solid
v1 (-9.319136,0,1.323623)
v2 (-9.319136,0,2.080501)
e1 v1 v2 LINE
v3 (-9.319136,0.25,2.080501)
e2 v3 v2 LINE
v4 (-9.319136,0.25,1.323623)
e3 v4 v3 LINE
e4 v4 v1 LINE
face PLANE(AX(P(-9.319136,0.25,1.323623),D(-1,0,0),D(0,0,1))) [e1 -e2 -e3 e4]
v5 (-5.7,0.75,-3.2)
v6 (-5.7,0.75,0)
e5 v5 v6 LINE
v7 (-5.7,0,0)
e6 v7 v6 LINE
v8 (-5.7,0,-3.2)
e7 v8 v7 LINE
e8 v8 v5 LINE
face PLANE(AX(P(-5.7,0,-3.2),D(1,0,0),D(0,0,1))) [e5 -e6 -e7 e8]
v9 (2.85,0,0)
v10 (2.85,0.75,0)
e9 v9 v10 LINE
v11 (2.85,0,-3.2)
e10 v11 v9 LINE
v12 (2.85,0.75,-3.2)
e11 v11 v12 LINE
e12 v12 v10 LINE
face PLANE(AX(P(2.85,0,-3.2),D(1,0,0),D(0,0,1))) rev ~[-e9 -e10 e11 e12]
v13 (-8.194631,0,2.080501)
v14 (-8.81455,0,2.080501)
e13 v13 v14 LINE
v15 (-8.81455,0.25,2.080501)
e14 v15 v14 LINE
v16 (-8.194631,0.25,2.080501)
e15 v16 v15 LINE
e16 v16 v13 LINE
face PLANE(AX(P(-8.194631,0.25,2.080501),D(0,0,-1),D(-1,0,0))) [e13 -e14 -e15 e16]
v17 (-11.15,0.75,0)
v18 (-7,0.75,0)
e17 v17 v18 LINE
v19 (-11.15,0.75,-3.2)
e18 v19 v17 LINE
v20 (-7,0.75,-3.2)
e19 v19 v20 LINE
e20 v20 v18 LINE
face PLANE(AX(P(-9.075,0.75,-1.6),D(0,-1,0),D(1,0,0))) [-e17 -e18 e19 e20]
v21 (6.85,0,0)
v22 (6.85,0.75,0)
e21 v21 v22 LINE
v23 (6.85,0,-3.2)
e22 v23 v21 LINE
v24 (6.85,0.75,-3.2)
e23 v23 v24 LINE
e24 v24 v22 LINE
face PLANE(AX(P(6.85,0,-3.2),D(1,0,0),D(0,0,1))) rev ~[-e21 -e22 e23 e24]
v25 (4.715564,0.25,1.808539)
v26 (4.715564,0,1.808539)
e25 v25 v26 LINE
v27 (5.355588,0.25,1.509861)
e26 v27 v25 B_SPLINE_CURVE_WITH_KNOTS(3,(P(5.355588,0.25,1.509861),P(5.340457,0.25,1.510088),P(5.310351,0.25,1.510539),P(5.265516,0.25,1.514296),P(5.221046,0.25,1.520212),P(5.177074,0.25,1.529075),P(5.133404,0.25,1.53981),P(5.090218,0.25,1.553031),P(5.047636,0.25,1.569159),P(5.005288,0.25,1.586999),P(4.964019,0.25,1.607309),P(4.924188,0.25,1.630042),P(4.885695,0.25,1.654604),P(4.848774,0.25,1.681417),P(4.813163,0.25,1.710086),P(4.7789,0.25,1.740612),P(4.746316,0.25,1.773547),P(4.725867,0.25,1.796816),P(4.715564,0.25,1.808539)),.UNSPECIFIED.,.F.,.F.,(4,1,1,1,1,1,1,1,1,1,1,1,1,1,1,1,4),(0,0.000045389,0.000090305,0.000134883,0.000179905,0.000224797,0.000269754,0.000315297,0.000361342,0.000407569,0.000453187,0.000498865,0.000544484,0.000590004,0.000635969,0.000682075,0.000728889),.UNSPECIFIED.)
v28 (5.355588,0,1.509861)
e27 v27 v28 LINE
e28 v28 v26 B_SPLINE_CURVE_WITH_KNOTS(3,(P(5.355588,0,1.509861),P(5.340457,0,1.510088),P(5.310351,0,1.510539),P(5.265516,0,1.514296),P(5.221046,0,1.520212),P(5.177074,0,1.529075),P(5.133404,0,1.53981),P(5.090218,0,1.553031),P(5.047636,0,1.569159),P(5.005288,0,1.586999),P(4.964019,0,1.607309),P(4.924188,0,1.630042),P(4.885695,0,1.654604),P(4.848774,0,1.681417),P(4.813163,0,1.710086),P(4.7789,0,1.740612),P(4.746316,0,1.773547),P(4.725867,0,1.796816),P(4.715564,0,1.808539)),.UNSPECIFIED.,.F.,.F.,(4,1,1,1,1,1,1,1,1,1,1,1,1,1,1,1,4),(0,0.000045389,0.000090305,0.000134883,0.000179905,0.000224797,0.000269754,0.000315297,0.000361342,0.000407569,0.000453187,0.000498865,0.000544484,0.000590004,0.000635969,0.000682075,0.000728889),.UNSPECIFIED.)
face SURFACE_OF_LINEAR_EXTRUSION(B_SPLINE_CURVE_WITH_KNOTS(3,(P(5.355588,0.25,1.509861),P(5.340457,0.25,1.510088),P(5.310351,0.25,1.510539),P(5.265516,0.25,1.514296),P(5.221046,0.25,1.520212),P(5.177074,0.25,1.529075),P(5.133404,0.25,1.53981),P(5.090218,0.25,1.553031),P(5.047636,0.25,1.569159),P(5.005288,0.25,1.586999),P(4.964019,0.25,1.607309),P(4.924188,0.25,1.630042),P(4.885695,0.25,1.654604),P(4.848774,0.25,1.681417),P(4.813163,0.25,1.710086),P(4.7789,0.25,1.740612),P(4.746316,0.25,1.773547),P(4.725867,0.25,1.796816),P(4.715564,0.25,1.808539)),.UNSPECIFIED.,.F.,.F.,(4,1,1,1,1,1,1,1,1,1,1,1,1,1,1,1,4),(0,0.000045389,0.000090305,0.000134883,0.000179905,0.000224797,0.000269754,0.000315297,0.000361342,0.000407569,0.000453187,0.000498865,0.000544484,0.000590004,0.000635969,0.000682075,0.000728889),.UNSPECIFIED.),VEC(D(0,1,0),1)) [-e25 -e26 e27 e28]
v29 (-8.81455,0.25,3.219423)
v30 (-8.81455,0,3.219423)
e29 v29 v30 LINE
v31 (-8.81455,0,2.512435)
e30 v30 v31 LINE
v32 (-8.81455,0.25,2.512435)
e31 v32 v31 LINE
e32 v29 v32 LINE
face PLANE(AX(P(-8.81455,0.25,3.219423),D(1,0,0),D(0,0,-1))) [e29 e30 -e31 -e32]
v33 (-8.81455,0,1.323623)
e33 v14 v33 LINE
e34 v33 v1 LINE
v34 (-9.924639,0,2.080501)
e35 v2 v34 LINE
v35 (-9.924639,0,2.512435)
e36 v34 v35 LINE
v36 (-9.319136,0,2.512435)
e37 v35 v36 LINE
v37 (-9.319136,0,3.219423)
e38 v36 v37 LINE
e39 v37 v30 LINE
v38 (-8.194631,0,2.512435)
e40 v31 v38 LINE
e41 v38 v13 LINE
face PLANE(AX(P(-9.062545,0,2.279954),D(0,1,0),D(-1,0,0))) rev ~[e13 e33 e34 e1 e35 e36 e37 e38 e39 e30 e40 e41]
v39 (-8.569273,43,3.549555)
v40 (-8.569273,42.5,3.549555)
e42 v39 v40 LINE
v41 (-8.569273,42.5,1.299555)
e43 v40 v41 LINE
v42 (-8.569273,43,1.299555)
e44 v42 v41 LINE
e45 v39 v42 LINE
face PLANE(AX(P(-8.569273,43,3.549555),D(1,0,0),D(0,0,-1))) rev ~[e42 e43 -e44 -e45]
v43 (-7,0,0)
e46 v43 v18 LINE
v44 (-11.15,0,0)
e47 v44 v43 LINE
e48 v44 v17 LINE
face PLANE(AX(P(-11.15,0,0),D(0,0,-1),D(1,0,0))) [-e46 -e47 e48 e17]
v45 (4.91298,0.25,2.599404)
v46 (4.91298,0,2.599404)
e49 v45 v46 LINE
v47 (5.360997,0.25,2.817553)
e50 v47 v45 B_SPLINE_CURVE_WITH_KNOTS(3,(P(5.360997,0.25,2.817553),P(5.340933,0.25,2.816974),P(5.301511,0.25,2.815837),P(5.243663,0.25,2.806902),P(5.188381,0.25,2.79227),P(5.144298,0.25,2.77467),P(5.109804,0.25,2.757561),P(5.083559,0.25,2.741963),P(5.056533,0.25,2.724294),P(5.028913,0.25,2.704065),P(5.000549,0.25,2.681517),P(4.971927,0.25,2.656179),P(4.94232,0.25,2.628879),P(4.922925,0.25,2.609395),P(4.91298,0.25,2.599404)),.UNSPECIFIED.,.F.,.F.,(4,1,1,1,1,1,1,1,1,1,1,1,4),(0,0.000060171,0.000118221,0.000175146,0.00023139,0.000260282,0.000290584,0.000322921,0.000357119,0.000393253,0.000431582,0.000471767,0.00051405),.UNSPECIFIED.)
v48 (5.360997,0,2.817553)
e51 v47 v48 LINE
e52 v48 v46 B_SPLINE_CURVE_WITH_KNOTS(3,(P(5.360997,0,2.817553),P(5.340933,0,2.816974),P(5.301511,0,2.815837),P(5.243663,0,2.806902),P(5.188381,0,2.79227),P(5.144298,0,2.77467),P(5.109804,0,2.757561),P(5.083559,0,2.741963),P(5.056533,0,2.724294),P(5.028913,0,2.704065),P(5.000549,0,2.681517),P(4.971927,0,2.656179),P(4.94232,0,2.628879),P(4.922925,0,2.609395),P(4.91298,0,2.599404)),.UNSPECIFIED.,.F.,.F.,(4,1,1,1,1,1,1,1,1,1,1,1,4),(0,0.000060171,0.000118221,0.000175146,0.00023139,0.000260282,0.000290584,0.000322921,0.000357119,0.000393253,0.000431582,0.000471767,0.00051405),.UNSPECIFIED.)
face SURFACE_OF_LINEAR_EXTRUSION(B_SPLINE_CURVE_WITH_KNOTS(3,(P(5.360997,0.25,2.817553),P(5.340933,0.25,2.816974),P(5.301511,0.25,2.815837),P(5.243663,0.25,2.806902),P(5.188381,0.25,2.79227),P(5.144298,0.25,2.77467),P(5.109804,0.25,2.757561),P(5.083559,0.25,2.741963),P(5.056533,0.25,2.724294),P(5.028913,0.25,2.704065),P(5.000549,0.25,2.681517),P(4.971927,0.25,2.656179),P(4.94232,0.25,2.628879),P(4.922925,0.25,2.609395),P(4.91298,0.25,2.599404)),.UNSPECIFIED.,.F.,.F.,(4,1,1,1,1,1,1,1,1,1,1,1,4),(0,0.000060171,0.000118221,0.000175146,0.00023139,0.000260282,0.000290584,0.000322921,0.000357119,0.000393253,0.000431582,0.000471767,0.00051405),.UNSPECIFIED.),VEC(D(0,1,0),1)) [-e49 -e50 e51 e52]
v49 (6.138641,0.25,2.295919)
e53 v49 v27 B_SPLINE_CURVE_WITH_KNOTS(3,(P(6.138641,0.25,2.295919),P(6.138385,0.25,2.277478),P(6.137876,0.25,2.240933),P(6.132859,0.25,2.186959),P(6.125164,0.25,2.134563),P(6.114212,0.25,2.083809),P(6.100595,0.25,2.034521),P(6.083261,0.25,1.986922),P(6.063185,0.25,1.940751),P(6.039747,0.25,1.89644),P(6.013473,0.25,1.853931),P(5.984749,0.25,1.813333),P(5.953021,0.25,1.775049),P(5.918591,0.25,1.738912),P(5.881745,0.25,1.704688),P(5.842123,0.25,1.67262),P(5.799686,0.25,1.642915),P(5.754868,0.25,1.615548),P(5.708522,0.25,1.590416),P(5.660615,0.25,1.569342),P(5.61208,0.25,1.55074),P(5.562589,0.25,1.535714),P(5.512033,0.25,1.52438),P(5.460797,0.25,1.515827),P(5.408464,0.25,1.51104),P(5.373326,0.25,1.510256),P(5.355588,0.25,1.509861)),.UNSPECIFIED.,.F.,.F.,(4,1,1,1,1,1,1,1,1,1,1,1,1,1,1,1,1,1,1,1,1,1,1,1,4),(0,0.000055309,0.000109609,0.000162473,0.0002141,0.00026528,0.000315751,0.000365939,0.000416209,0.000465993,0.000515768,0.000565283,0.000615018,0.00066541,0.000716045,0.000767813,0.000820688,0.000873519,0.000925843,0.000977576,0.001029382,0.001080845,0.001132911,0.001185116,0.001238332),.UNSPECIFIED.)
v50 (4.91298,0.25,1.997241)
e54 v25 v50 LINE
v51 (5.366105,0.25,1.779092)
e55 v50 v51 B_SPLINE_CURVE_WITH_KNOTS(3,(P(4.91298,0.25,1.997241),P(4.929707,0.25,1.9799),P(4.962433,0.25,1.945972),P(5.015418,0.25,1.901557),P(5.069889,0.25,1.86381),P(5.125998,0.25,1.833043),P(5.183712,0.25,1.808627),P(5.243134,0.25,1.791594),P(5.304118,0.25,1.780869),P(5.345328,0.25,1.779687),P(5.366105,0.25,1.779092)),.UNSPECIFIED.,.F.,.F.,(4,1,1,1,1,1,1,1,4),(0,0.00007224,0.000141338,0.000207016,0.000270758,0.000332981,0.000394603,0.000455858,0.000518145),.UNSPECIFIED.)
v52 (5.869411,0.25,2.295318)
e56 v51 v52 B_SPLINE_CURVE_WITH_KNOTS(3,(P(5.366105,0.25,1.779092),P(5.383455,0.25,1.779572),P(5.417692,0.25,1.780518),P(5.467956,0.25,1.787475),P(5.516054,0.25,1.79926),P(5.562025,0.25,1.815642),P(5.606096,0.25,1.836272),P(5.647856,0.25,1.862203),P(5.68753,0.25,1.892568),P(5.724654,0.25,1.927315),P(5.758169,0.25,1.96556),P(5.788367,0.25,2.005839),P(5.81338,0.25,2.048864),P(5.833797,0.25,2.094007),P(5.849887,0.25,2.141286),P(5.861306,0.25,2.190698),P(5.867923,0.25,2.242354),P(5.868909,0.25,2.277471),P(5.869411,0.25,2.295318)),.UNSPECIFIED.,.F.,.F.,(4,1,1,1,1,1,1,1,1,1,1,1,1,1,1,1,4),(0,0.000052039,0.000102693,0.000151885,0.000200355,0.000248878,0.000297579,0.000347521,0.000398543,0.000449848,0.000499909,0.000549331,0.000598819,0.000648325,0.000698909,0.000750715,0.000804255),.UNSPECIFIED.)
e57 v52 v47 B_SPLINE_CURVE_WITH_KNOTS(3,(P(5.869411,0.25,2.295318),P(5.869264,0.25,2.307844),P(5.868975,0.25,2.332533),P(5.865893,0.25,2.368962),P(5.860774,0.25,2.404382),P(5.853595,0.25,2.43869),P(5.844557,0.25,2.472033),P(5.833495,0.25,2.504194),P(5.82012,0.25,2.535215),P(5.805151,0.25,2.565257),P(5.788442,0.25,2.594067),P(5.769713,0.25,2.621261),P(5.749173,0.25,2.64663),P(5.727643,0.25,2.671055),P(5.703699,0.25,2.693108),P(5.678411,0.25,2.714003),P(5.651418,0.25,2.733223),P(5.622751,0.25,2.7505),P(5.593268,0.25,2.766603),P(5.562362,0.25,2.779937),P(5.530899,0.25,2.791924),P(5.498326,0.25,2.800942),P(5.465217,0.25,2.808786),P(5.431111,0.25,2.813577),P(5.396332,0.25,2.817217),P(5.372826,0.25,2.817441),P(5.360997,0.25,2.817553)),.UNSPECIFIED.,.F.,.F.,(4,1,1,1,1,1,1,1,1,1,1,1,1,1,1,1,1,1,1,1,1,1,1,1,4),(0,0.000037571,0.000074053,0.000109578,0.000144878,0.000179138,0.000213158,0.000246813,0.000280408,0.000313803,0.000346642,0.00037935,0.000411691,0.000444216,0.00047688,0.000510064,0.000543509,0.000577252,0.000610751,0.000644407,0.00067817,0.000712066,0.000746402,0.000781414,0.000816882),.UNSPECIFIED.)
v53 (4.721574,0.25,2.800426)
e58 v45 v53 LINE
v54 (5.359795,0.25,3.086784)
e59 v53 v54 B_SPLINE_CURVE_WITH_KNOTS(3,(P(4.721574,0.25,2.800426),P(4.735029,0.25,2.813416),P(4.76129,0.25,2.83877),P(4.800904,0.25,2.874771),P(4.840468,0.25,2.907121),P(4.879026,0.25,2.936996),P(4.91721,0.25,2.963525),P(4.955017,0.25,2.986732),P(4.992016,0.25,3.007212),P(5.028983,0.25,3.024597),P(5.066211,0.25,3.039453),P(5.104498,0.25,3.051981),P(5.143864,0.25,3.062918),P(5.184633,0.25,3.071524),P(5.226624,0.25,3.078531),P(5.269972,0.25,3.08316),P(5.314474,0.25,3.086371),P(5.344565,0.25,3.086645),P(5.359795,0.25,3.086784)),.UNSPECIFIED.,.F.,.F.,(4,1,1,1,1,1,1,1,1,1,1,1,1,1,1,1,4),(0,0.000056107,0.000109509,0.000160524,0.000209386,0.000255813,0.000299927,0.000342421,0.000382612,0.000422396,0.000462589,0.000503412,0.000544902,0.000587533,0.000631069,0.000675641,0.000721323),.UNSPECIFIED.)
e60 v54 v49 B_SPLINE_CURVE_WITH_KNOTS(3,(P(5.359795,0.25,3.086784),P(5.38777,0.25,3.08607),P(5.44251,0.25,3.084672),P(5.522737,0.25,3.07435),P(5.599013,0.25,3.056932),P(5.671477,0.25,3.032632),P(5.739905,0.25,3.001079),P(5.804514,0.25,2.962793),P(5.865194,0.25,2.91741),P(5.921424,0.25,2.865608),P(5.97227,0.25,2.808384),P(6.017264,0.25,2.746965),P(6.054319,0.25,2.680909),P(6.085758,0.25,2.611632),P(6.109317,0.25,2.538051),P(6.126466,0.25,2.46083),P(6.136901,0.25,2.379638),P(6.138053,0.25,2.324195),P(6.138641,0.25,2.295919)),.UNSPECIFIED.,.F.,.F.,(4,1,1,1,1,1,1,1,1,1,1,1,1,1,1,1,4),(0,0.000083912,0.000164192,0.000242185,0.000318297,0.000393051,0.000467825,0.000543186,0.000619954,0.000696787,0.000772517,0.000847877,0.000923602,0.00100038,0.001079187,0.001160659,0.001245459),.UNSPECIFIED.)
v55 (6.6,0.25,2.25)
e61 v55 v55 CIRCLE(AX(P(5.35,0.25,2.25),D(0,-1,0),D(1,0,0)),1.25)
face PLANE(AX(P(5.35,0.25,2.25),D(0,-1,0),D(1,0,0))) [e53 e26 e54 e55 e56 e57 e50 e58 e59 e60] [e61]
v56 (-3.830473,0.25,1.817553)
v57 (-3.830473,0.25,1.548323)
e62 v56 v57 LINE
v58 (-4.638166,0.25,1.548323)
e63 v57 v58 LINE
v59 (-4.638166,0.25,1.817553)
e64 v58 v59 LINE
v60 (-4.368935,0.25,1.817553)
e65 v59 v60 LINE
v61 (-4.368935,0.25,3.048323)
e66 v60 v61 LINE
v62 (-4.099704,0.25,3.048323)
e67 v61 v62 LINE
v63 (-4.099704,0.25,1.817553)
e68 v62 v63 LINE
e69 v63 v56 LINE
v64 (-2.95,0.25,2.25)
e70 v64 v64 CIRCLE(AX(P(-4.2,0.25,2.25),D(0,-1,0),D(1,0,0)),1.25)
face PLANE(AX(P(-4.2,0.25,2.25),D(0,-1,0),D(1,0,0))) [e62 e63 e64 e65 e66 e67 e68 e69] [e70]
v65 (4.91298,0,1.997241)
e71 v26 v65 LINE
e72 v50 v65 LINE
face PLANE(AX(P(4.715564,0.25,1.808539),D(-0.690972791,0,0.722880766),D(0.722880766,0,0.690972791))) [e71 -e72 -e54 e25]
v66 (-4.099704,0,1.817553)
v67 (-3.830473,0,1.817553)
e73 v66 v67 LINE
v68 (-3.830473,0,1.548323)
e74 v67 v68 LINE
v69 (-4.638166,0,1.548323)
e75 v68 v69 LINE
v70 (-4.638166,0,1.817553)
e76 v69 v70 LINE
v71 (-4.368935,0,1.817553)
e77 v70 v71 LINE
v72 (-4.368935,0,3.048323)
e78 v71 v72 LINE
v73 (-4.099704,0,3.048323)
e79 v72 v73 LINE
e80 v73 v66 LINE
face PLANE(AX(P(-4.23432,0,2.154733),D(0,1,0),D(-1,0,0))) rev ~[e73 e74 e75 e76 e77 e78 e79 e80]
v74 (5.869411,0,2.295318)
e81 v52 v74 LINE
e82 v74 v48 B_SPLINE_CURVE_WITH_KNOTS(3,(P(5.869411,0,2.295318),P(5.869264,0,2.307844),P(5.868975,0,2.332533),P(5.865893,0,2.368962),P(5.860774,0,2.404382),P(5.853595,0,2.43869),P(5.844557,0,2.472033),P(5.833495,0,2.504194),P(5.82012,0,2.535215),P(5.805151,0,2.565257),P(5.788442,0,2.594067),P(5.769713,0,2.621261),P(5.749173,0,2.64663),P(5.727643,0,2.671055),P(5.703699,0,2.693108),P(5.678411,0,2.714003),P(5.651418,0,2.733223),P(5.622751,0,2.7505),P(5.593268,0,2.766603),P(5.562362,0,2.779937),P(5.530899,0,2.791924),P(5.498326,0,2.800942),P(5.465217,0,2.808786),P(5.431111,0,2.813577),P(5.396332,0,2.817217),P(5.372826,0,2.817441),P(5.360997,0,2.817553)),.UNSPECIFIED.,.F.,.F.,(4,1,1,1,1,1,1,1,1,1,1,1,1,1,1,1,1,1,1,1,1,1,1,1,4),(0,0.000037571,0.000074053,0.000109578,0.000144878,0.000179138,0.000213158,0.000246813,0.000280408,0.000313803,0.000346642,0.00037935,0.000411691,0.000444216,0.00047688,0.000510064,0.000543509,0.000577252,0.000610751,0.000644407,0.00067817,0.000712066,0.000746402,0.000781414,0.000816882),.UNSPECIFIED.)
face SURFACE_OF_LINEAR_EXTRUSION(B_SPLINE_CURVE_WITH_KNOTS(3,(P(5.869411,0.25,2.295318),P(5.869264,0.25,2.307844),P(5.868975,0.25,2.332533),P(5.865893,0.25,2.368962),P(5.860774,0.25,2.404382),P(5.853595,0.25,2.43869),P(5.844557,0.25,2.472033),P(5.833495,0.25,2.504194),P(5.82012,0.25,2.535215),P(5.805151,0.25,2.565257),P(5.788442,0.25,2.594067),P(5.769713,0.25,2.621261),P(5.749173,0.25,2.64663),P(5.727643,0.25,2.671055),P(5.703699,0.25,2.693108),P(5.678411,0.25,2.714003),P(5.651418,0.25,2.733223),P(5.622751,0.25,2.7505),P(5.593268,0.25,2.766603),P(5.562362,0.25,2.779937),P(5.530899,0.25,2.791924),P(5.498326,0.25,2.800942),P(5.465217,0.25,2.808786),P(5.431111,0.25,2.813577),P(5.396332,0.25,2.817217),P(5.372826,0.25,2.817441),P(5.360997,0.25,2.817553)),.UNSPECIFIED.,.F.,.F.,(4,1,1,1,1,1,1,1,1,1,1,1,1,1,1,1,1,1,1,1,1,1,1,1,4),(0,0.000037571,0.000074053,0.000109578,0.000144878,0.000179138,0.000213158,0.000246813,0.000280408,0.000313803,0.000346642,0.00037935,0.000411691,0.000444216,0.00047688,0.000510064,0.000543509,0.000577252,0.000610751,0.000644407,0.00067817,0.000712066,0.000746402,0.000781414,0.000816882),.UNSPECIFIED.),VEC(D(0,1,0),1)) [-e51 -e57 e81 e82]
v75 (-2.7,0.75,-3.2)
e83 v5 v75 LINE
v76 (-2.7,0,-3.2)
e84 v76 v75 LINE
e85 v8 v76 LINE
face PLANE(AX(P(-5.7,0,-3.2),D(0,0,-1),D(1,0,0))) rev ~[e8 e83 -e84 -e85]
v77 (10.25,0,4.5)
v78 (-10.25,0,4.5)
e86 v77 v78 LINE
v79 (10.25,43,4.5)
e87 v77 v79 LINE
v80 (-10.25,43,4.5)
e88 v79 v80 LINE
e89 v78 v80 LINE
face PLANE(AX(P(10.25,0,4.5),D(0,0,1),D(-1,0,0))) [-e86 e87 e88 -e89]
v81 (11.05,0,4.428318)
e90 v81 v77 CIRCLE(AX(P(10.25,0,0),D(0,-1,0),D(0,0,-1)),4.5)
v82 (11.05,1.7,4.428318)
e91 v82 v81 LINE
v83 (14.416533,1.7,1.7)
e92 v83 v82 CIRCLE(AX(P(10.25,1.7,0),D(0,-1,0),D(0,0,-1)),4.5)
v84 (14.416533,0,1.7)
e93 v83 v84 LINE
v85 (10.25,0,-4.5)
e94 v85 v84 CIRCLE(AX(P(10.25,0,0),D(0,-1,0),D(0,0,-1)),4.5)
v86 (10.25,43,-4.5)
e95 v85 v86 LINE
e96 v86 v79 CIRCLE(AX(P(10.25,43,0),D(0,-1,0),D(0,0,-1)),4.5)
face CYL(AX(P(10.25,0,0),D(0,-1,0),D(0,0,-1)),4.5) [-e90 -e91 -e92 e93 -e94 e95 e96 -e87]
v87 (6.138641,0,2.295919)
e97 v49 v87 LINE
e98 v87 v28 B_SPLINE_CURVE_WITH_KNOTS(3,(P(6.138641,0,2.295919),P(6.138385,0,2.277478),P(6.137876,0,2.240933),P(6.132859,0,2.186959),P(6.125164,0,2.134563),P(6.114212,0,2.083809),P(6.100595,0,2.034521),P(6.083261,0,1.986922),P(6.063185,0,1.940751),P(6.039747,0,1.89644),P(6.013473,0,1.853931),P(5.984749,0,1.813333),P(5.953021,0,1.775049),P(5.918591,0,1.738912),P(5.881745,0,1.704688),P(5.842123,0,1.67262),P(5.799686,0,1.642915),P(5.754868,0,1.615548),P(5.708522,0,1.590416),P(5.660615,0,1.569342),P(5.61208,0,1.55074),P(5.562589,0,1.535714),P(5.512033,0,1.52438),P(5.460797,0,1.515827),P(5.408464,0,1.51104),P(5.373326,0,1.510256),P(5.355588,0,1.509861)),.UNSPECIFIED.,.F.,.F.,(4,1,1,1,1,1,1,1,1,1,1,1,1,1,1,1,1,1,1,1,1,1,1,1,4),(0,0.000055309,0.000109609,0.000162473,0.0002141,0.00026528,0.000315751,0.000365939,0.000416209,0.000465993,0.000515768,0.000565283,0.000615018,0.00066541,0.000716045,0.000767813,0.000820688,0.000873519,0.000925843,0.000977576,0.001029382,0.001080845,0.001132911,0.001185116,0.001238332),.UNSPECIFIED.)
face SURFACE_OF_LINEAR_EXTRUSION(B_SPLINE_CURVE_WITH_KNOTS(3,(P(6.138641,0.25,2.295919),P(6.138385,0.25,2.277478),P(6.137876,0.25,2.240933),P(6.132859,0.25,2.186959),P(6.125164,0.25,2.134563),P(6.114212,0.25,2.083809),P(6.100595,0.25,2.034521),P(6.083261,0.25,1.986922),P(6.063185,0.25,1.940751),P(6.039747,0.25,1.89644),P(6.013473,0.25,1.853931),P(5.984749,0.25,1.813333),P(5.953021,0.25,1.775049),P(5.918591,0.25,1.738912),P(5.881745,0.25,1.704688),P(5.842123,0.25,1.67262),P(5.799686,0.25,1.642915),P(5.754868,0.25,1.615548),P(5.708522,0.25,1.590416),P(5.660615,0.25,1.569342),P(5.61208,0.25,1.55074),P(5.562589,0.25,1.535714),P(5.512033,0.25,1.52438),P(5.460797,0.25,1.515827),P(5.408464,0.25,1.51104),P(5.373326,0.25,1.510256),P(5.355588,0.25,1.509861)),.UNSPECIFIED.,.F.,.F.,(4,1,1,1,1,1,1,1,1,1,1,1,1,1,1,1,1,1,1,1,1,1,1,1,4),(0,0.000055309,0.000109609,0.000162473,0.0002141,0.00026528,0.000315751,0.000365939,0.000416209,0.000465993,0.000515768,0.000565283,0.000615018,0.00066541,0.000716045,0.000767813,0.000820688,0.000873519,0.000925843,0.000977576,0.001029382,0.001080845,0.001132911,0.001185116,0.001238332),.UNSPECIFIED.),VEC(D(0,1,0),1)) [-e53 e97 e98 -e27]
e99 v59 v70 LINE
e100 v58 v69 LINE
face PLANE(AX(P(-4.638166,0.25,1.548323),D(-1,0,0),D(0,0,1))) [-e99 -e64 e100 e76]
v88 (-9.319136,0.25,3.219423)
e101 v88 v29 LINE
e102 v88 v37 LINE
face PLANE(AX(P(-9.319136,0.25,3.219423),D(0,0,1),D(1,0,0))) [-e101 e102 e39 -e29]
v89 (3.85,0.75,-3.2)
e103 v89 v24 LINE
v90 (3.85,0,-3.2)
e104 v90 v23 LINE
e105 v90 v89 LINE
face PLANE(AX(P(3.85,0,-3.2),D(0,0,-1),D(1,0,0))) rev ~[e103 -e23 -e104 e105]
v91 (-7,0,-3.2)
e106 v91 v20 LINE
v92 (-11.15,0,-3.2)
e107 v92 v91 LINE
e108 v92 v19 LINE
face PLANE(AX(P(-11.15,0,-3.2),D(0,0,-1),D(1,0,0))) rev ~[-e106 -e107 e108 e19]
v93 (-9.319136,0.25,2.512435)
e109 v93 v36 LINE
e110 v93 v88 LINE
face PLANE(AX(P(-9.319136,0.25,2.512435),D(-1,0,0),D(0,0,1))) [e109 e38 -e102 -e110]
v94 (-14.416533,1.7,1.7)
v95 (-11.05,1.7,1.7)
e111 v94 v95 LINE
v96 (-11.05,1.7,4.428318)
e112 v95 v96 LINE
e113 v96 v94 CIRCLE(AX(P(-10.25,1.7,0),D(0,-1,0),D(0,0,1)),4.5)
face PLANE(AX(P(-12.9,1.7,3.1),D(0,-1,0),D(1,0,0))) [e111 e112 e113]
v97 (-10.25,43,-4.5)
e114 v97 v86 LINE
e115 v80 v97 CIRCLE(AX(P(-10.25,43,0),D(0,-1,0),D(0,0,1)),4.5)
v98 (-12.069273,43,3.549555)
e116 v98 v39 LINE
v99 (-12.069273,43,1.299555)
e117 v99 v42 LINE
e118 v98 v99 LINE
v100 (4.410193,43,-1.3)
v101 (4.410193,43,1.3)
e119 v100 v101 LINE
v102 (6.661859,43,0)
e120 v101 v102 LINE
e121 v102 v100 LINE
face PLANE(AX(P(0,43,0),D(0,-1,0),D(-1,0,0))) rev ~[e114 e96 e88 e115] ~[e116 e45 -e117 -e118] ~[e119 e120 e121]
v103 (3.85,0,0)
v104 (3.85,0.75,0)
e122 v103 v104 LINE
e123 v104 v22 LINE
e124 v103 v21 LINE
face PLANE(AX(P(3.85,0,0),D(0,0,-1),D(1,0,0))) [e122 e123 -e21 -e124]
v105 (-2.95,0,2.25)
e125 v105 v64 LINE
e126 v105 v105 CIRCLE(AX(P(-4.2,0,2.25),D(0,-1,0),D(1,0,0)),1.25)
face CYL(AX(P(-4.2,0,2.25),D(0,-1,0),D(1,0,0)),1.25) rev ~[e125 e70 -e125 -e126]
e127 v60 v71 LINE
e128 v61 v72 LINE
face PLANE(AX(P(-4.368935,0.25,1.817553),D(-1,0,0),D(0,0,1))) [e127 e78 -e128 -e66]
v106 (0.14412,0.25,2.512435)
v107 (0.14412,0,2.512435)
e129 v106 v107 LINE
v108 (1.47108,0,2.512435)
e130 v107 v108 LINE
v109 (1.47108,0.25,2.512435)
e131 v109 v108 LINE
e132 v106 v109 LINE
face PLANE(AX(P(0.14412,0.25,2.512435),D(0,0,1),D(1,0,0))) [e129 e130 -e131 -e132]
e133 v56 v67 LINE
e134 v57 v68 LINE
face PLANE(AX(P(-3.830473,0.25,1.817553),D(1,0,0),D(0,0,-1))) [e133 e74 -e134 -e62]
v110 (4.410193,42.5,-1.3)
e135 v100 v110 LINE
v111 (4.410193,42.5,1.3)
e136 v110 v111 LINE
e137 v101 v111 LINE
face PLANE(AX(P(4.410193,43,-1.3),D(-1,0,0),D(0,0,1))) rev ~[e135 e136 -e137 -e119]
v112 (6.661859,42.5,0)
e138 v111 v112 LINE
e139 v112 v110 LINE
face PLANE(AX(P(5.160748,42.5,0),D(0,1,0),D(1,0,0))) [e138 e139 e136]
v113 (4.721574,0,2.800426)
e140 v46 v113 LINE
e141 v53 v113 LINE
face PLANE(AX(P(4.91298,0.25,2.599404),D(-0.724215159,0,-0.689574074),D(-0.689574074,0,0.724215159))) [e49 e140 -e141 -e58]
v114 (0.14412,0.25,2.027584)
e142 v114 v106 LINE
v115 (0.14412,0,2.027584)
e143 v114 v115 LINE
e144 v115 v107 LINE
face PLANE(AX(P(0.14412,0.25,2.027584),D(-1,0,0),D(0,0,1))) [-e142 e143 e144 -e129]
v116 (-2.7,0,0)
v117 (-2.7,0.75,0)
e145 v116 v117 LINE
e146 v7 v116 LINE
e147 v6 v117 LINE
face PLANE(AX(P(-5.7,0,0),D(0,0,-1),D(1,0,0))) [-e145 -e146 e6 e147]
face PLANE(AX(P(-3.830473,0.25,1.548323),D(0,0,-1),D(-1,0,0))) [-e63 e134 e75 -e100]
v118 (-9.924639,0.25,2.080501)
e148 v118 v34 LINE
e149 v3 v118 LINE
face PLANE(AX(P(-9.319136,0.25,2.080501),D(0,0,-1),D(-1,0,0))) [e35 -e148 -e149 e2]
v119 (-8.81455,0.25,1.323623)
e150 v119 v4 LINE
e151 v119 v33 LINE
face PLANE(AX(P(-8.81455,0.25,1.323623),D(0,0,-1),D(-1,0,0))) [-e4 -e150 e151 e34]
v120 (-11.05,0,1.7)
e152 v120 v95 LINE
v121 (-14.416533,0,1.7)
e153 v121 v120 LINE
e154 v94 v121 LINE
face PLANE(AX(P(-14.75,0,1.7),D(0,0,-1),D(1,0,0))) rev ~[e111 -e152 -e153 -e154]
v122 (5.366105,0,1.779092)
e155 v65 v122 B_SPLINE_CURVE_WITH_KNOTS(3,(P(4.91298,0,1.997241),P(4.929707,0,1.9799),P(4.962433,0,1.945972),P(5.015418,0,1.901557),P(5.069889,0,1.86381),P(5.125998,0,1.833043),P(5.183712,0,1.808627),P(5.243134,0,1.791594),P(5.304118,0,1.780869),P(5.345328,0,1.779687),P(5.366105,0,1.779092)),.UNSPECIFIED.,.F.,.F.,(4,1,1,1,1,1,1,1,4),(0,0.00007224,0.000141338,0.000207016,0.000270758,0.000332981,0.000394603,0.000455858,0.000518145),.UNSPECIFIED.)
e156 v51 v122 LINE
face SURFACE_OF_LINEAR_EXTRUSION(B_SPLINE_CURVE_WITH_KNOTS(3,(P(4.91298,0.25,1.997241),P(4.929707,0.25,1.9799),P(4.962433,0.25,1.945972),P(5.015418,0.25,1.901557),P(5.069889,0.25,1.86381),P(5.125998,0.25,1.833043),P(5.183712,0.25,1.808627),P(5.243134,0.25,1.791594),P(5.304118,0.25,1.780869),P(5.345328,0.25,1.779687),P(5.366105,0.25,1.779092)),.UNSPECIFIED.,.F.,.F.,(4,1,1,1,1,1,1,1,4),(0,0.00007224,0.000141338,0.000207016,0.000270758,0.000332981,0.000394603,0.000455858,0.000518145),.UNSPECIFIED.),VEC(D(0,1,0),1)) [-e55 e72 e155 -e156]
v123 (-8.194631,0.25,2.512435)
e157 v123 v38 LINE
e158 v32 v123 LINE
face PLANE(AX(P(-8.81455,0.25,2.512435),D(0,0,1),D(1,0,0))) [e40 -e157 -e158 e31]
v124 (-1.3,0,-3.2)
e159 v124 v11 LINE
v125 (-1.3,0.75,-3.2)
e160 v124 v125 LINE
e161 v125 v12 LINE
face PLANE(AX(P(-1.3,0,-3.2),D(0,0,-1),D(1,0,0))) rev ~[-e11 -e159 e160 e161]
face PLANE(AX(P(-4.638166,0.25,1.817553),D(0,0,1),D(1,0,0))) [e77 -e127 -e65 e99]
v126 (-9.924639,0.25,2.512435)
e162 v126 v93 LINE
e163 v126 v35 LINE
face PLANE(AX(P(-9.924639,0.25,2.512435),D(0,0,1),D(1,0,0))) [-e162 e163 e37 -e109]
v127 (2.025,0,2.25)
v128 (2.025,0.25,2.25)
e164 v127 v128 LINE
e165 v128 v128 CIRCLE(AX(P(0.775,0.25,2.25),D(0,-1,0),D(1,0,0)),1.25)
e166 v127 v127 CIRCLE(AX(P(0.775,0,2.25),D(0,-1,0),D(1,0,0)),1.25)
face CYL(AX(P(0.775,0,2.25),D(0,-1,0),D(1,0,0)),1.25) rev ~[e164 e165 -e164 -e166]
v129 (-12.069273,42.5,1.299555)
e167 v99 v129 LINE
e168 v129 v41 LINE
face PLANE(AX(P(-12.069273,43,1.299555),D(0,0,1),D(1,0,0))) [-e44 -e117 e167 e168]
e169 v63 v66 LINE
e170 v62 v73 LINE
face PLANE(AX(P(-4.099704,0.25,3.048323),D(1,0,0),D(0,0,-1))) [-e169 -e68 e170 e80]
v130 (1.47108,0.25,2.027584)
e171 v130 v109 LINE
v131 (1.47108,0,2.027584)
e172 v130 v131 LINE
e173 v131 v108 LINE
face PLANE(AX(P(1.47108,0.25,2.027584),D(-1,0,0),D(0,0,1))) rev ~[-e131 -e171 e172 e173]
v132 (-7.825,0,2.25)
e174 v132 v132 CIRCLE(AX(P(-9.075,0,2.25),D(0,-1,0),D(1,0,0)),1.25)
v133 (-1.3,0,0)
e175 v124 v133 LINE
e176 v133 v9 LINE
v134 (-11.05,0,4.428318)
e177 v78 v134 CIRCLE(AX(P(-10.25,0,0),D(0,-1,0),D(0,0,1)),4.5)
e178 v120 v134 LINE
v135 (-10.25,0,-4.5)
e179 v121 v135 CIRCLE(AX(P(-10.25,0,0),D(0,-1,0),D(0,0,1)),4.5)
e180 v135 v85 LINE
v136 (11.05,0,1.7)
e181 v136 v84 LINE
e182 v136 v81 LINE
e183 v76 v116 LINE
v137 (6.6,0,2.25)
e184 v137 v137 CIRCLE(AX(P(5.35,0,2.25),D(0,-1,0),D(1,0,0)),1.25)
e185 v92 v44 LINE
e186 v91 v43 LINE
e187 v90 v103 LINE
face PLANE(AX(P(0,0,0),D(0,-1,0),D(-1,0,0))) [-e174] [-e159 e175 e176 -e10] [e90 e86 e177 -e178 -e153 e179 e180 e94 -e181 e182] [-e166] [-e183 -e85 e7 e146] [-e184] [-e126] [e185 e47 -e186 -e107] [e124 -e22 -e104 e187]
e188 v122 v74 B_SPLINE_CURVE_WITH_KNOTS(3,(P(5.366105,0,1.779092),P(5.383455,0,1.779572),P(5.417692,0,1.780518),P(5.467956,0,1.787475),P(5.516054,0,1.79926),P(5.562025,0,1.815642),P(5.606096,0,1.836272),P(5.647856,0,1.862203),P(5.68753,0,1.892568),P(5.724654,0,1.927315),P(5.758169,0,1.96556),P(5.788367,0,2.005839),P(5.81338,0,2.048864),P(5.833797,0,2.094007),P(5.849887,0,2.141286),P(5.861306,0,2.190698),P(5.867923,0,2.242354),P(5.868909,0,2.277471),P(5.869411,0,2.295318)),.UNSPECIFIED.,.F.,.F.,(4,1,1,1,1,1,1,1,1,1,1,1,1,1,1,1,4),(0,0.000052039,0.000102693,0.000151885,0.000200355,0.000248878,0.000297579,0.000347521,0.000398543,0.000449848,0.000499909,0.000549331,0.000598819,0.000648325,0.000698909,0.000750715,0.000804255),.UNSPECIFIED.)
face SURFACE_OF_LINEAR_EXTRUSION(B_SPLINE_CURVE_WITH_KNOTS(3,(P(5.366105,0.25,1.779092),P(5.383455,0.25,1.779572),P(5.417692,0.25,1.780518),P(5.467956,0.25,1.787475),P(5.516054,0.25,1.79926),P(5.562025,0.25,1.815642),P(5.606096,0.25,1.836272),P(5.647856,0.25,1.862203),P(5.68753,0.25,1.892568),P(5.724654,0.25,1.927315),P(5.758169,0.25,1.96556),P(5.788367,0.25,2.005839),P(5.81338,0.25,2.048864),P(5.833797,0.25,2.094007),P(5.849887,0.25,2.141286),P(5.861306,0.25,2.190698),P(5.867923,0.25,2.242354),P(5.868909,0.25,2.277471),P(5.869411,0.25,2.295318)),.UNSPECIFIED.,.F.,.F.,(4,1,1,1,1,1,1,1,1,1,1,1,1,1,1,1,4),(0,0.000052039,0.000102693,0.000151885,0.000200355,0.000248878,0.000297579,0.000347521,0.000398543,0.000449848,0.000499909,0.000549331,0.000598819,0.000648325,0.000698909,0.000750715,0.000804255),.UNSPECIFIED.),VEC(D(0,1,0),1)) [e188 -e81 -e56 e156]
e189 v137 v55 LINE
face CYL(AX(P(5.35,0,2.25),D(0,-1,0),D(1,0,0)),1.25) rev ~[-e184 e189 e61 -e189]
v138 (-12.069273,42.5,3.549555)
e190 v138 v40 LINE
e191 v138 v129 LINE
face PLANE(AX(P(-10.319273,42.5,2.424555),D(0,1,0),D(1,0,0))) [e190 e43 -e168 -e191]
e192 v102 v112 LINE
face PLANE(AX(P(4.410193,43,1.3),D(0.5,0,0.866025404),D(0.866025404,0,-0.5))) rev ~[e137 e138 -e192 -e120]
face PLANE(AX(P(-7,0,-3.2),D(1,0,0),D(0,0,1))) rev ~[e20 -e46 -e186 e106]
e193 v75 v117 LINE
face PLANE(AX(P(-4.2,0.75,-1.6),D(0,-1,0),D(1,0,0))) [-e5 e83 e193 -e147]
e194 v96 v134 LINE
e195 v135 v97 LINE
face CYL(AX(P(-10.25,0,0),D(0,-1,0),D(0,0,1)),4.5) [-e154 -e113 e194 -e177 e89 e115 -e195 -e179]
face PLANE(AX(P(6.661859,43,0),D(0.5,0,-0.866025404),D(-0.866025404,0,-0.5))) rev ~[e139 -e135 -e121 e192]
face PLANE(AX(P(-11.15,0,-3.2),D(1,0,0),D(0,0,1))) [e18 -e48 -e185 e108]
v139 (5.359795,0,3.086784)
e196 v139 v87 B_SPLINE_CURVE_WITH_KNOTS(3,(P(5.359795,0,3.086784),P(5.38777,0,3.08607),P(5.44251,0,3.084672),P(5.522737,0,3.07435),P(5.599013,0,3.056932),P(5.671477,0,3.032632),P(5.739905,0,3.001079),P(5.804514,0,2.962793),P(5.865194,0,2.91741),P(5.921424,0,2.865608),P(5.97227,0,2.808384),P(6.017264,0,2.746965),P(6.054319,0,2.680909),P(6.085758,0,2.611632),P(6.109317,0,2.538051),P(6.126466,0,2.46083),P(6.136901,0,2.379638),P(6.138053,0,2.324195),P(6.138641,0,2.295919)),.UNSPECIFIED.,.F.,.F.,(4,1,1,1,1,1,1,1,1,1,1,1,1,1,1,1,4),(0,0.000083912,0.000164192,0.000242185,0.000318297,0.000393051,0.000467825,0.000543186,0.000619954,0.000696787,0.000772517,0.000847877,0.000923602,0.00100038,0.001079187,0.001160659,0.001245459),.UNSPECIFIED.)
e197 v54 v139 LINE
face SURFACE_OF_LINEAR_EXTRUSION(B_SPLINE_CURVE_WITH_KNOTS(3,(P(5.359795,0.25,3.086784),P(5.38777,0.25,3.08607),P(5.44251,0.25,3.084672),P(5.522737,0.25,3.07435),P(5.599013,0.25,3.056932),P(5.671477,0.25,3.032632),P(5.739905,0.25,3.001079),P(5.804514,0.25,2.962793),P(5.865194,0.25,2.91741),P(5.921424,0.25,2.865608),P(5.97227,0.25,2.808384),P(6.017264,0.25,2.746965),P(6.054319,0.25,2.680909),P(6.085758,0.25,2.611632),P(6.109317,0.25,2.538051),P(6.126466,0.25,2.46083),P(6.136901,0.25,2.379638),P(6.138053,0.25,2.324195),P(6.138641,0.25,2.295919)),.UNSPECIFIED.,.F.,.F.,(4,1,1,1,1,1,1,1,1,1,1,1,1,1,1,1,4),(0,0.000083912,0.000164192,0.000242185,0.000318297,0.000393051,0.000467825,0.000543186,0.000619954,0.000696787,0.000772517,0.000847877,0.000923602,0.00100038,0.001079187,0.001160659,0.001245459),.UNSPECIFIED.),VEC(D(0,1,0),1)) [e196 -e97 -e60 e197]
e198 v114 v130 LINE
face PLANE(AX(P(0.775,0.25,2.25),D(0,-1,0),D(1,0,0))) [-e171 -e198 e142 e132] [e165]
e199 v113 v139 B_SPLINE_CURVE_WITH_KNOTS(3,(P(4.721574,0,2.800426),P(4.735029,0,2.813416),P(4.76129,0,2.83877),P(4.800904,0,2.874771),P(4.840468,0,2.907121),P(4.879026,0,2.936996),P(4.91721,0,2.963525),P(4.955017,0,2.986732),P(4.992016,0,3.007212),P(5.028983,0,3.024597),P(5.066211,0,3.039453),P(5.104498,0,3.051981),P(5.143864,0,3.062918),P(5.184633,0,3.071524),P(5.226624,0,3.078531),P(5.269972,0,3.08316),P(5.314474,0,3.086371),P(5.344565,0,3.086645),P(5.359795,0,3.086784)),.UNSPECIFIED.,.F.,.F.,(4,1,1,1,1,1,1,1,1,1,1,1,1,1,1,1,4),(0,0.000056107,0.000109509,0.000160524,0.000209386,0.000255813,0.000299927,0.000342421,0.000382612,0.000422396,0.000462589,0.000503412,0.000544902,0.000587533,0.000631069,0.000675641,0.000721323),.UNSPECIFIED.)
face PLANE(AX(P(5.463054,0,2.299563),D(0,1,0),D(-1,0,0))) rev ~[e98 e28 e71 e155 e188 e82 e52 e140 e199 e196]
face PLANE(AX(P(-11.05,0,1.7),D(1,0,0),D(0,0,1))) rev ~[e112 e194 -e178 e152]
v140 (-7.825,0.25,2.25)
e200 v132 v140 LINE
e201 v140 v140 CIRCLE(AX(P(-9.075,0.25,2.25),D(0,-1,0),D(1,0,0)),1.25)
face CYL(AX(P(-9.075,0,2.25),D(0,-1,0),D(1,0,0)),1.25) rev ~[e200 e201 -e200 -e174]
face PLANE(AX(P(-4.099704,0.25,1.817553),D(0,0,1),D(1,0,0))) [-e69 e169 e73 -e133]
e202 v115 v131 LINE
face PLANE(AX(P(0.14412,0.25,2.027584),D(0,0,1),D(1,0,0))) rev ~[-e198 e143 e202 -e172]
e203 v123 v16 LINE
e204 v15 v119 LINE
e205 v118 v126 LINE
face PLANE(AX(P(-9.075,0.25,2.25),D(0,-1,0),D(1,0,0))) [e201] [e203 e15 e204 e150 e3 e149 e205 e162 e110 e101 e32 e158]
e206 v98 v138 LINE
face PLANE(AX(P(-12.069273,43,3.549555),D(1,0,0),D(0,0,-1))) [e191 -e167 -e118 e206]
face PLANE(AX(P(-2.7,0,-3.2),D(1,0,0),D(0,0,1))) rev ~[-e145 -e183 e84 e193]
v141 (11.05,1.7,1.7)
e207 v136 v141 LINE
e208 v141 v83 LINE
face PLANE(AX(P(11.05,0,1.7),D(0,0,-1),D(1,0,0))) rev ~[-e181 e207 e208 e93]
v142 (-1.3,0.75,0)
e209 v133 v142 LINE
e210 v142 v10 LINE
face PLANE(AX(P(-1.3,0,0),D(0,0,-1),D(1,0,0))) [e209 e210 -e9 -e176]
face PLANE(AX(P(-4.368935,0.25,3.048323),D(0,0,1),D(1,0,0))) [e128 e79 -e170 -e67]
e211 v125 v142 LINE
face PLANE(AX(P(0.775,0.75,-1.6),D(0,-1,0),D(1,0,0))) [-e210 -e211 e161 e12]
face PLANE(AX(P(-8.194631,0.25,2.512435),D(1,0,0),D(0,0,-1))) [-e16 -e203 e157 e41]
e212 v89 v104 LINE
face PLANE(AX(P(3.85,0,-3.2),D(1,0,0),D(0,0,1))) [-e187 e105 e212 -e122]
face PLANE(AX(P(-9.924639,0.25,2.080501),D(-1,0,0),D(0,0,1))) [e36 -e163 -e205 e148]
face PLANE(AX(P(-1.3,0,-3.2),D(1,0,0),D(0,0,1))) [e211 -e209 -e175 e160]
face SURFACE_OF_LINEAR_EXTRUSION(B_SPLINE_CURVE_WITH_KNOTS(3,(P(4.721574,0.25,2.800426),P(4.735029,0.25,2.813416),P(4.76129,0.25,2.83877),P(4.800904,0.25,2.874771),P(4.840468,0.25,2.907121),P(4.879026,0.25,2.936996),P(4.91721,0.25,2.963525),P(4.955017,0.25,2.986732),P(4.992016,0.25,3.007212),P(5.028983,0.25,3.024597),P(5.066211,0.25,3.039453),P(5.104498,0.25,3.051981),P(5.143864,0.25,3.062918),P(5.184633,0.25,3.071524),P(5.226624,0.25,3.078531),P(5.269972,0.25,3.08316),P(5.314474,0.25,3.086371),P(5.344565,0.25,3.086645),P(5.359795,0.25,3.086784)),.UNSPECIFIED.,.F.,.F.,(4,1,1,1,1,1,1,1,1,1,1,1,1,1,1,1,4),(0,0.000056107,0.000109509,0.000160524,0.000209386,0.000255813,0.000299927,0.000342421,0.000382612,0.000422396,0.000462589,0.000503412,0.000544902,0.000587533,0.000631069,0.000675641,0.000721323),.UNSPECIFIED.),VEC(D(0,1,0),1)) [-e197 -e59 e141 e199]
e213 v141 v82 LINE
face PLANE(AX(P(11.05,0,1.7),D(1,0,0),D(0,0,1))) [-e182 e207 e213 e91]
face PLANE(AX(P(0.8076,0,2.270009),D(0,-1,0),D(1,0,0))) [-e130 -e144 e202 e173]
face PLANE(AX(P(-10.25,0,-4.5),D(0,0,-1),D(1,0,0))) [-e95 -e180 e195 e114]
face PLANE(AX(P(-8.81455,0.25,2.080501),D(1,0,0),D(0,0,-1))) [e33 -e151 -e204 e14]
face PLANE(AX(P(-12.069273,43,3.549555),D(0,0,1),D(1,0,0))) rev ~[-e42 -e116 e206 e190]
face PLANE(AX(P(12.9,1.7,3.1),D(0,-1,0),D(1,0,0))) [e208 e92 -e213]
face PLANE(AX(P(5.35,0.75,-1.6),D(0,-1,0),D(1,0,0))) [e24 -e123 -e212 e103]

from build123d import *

# Parameters (mm, degrees)
BOSS_EXTRUDE1_DEPTH = 43
SKETCH2_W           = 3.5
SKETCH2_H           = 2.25
CUT_EXTRUDE1_DEPTH  = 0.5
SKETCH3_W           = 4.15
SKETCH3_H           = 3.2
SKETCH3_W_2         = 3
CUT_EXTRUDE2_DEPTH  = 0.75
SKETCH5_R           = 1.25
CUT_EXTRUDE3_DEPTH  = 0.25
SKETCH6_W           = 1.326960347
SKETCH6_H           = 0.484850896
BOSS_EXTRUDE2_DEPTH = 0.25
SKETCH7_W           = 3.7
SKETCH7_H           = 2.8
CUT_EXTRUDE4_DEPTH  = 1.7


with BuildPart() as part:
    # Sketch1 → Boss-Extrude1 (new body)
    with BuildSketch(Plane(origin=(0, 0, 0), x_dir=(1, 0, 0), z_dir=(0, 1, 0))):
        with BuildLine():
            Line((-10.25, 4.5), (10.25, 4.5))
            ThreePointArc((10.25, 4.5), (14.75, 0), (10.25, -4.5))
            Line((10.25, -4.5), (-10.25, -4.5))
            ThreePointArc((-10.25, -4.5), (-14.75, 0), (-10.25, 4.5))
        make_face()
    extrude(amount=BOSS_EXTRUDE1_DEPTH)

    # Sketch2 → Cut-Extrude1 (cut)
    with BuildSketch(Plane(origin=(0, 43, 0), x_dir=(1, 0, 0), z_dir=(0, 1, 0))):
        with Locations((-10.319273123, -2.424555182)):
            Rectangle(SKETCH2_W, SKETCH2_H)
        Polygon((6.661858634, 0), (4.410192585, 1.3), (4.410192585, -1.3), align=None)
    extrude(amount=-CUT_EXTRUDE1_DEPTH, mode=Mode.SUBTRACT)

    # Sketch3 → Cut-Extrude2 (cut)
    with BuildSketch(Plane.XZ):
        with Locations((-9.075, -1.6)):
            Rectangle(SKETCH3_W, SKETCH3_H)
        with Locations((-4.2, -1.6)):
            Rectangle(SKETCH3_W_2, SKETCH3_H)
        with Locations((0.775, -1.6)):
            Rectangle(SKETCH3_W, SKETCH3_H)
        with Locations((5.35, -1.6)):
            Rectangle(SKETCH3_W_2, SKETCH3_H)
    extrude(amount=-CUT_EXTRUDE2_DEPTH, mode=Mode.SUBTRACT)

    # Sketch5 → Cut-Extrude3 (cut)
    with BuildSketch(Plane.XZ):
        with Locations((-9.075, 2.25)):
            Circle(SKETCH5_R)
        with Locations((-4.2, 2.25)):
            Circle(SKETCH5_R)
        with Locations((0.775, 2.25)):
            Circle(SKETCH5_R)
        with Locations((5.35, 2.25)):
            Circle(SKETCH5_R)
    extrude(amount=-CUT_EXTRUDE3_DEPTH, mode=Mode.SUBTRACT)

    # Sketch6 → Boss-Extrude2 (add)
    with BuildSketch(Plane.XZ.offset(-0.25)):
        Polygon((-9.319136071, 2.080501294), (-9.924638911, 2.080501294), (-9.924638911, 2.512434892), (-9.319136071, 2.512434892), (-9.319136071, 3.219423302), (-8.814550371, 3.219423302), (-8.814550371, 2.512434892), (-8.194630797, 2.512434892), (-8.194630797, 2.080501294), (-8.814550371, 2.080501294), (-8.814550371, 1.323622745), (-9.319136071, 1.323622745), align=None)
        with Locations((0.807600037, 2.270009444)):
            Rectangle(SKETCH6_W, SKETCH6_H)
        with BuildLine():
            Line((4.715564351, 1.80853907), (4.912980216, 1.997240994))
            add(Edge.make_bspline(
                [(4.912980216, 1.997240994), (4.929707146, 1.979899926), (4.962433267, 1.945972249), (5.015418116, 1.901557226), (5.069888716, 1.863810031), (5.125997527, 1.833043383), (5.183712319, 1.808626724), (5.243133504, 1.791593673), (5.30411755, 1.780868656), (5.345327837, 1.77968748), (5.366105216, 1.779091955)],
                knots=[0, 0, 0, 0, 7.224e-05, 0.000141338, 0.000207016, 0.000270758, 0.000332981, 0.000394603, 0.000455858, 0.000518145, 0.000518145, 0.000518145, 0.000518145], degree=3))
            add(Edge.make_bspline(
                [(5.366105216, 1.779091955), (5.383454547, 1.779571665), (5.417691539, 1.78051832), (5.467955666, 1.787474955), (5.516054131, 1.799260394), (5.562025094, 1.815642069), (5.60609584, 1.836272091), (5.647855993, 1.862202541), (5.687529977, 1.892567959), (5.724654232, 1.927315209), (5.758169405, 1.965560051), (5.788367052, 2.005838724), (5.813379552, 2.048863663), (5.833797229, 2.09400743), (5.849886827, 2.141286329), (5.86130626, 2.190697991), (5.867922688, 2.24235398), (5.868909154, 2.277470612), (5.869410505, 2.295317917)],
                knots=[0, 0, 0, 0, 5.2039e-05, 0.000102693, 0.000151885, 0.000200355, 0.000248878, 0.000297579, 0.000347521, 0.000398543, 0.000449848, 0.000499909, 0.000549331, 0.000598819, 0.000648325, 0.000698909, 0.000750715, 0.000804255, 0.000804255, 0.000804255, 0.000804255], degree=3))
            add(Edge.make_bspline(
                [(5.869410505, 2.295317917), (5.869263959, 2.307844037), (5.868975113, 2.332533276), (5.86589296, 2.368961679), (5.860774249, 2.404382271), (5.853594852, 2.438690106), (5.844556603, 2.472033181), (5.833494646, 2.504194313), (5.820119677, 2.535214768), (5.805150865, 2.565257037), (5.788442474, 2.594066561), (5.769713133, 2.621261294), (5.74917272, 2.646629922), (5.727643129, 2.671055186), (5.703698503, 2.693107682), (5.678410927, 2.714002754), (5.651417573, 2.733222757), (5.622751223, 2.750500219), (5.593267533, 2.766602513), (5.562362337, 2.779937286), (5.530899248, 2.791924454), (5.498326297, 2.800942411), (5.465217256, 2.808786127), (5.431111276, 2.813576528), (5.396332037, 2.8172166), (5.372826074, 2.817440712), (5.360997043, 2.817553494)],
                knots=[0, 0, 0, 0, 3.7571e-05, 7.4053e-05, 0.000109578, 0.000144878, 0.000179138, 0.000213158, 0.000246813, 0.000280408, 0.000313803, 0.000346642, 0.00037935, 0.000411691, 0.000444216, 0.00047688, 0.000510064, 0.000543509, 0.000577252, 0.000610751, 0.000644407, 0.00067817, 0.000712066, 0.000746402, 0.000781414, 0.000816882, 0.000816882, 0.000816882, 0.000816882], degree=3))
            add(Edge.make_bspline(
                [(5.360997043, 2.817553494), (5.340932624, 2.81697445), (5.301511258, 2.81583678), (5.24366326, 2.806901525), (5.188381183, 2.792269684), (5.144297695, 2.774670447), (5.109804461, 2.757561474), (5.083558758, 2.7419627), (5.056533291, 2.724293685), (5.028913098, 2.70406497), (5.000548666, 2.681517285), (4.971927273, 2.656179356), (4.94232014, 2.628879026), (4.922924645, 2.609394521), (4.912980216, 2.599404455)],
                knots=[0, 0, 0, 0, 6.0171e-05, 0.000118221, 0.000175146, 0.00023139, 0.000260282, 0.000290584, 0.000322921, 0.000357119, 0.000393253, 0.000431582, 0.000471767, 0.00051405, 0.00051405, 0.00051405, 0.00051405], degree=3))
            Line((4.912980216, 2.599404455), (4.721573966, 2.80042609))
            add(Edge.make_bspline(
                [(4.721573966, 2.80042609), (4.735028795, 2.813416305), (4.761289744, 2.838770428), (4.800903659, 2.874770908), (4.840467708, 2.907121373), (4.879026152, 2.936995856), (4.917210456, 2.963524548), (4.955017137, 2.98673217), (4.992016231, 3.00721189), (5.028982989, 3.024596757), (5.066210855, 3.039452525), (5.104498273, 3.051981146), (5.143863537, 3.062917773), (5.184632673, 3.071524335), (5.226623771, 3.078530672), (5.269971765, 3.083160305), (5.314474118, 3.086370664), (5.344564827, 3.086645271), (5.35979512, 3.086784263)],
                knots=[0, 0, 0, 0, 5.6107e-05, 0.000109509, 0.000160524, 0.000209386, 0.000255813, 0.000299927, 0.000342421, 0.000382612, 0.000422396, 0.000462589, 0.000503412, 0.000544902, 0.000587533, 0.000631069, 0.000675641, 0.000721323, 0.000721323, 0.000721323, 0.000721323], degree=3))
            add(Edge.make_bspline(
                [(5.35979512, 3.086784263), (5.387770205, 3.086069862), (5.44250967, 3.084671977), (5.522736662, 3.074350257), (5.599013379, 3.056931828), (5.671476881, 3.03263203), (5.739905397, 3.001078873), (5.804513521, 2.962792741), (5.865193661, 2.917410259), (5.921423669, 2.865607584), (5.972270451, 2.808383842), (6.017263923, 2.746964786), (6.05431883, 2.680909351), (6.085758013, 2.611632486), (6.109316906, 2.538051127), (6.126465703, 2.460830166), (6.136900657, 2.379638221), (6.138053378, 2.324195186), (6.138641274, 2.295918878)],
                knots=[0, 0, 0, 0, 8.3912e-05, 0.000164192, 0.000242185, 0.000318297, 0.000393051, 0.000467825, 0.000543186, 0.000619954, 0.000696787, 0.000772517, 0.000847877, 0.000923602, 0.00100038, 0.001079187, 0.001160659, 0.001245459, 0.001245459, 0.001245459, 0.001245459], degree=3))
            add(Edge.make_bspline(
                [(6.138641274, 2.295918878), (6.138384513, 2.277478096), (6.137875675, 2.240932973), (6.132859378, 2.186959442), (6.12516416, 2.134563275), (6.114212057, 2.083808916), (6.100594572, 2.034520629), (6.083261482, 1.986921578), (6.063185313, 1.940751187), (6.039746603, 1.896439727), (6.013473059, 1.853931201), (5.984748971, 1.813333056), (5.953021206, 1.775049105), (5.918591266, 1.738911903), (5.881745297, 1.704687885), (5.842122948, 1.672619943), (5.799686332, 1.642914873), (5.754868318, 1.615548264), (5.708522141, 1.590415811), (5.660614863, 1.569342312), (5.612080106, 1.550739522), (5.56258902, 1.535713643), (5.512032672, 1.524379585), (5.460797123, 1.51582654), (5.408463744, 1.51103959), (5.373325792, 1.51025649), (5.355588389, 1.509861186)],
                knots=[0, 0, 0, 0, 5.5309e-05, 0.000109609, 0.000162473, 0.0002141, 0.00026528, 0.000315751, 0.000365939, 0.000416209, 0.000465993, 0.000515768, 0.000565283, 0.000615018, 0.00066541, 0.000716045, 0.000767813, 0.000820688, 0.000873519, 0.000925843, 0.000977576, 0.001029382, 0.001080845, 0.001132911, 0.001185116, 0.001238332, 0.001238332, 0.001238332, 0.001238332], degree=3))
            add(Edge.make_bspline(
                [(5.355588389, 1.509861186), (5.340456681, 1.510088069), (5.310350592, 1.510539475), (5.265516337, 1.514295789), (5.221045554, 1.52021179), (5.177074042, 1.529075404), (5.133404064, 1.539809648), (5.090218454, 1.553031339), (5.047636298, 1.569158702), (5.005288443, 1.58699897), (4.964019452, 1.607309189), (4.924187982, 1.630042499), (4.885695338, 1.654604176), (4.848773565, 1.681416683), (4.813162609, 1.71008618), (4.778900466, 1.740611719), (4.746315906, 1.773547024), (4.72586669, 1.796816088), (4.715564351, 1.80853907)],
                knots=[0, 0, 0, 0, 4.5389e-05, 9.0305e-05, 0.000134883, 0.000179905, 0.000224797, 0.000269754, 0.000315297, 0.000361342, 0.000407569, 0.000453187, 0.000498865, 0.000544484, 0.000590004, 0.000635969, 0.000682075, 0.000728889, 0.000728889, 0.000728889, 0.000728889], degree=3))
        make_face()
        Polygon((-3.830473477, 1.548322724), (-4.638165785, 1.548322724), (-4.638165785, 1.817553494), (-4.368935016, 1.817553494), (-4.368935016, 3.048322724), (-4.099704247, 3.048322724), (-4.099704247, 1.817553494), (-3.830473477, 1.817553494), align=None)
    extrude(amount=BOSS_EXTRUDE2_DEPTH)

    # Sketch7 → Cut-Extrude4 (cut)
    with BuildSketch(Plane.XZ):
        with Locations((-12.9, 3.1)):
            Rectangle(SKETCH7_W, SKETCH7_H)
        with Locations((12.9, 3.1)):
            Rectangle(SKETCH7_W, SKETCH7_H)
    extrude(amount=-CUT_EXTRUDE4_DEPTH, mode=Mode.SUBTRACT)


solid = part.part
